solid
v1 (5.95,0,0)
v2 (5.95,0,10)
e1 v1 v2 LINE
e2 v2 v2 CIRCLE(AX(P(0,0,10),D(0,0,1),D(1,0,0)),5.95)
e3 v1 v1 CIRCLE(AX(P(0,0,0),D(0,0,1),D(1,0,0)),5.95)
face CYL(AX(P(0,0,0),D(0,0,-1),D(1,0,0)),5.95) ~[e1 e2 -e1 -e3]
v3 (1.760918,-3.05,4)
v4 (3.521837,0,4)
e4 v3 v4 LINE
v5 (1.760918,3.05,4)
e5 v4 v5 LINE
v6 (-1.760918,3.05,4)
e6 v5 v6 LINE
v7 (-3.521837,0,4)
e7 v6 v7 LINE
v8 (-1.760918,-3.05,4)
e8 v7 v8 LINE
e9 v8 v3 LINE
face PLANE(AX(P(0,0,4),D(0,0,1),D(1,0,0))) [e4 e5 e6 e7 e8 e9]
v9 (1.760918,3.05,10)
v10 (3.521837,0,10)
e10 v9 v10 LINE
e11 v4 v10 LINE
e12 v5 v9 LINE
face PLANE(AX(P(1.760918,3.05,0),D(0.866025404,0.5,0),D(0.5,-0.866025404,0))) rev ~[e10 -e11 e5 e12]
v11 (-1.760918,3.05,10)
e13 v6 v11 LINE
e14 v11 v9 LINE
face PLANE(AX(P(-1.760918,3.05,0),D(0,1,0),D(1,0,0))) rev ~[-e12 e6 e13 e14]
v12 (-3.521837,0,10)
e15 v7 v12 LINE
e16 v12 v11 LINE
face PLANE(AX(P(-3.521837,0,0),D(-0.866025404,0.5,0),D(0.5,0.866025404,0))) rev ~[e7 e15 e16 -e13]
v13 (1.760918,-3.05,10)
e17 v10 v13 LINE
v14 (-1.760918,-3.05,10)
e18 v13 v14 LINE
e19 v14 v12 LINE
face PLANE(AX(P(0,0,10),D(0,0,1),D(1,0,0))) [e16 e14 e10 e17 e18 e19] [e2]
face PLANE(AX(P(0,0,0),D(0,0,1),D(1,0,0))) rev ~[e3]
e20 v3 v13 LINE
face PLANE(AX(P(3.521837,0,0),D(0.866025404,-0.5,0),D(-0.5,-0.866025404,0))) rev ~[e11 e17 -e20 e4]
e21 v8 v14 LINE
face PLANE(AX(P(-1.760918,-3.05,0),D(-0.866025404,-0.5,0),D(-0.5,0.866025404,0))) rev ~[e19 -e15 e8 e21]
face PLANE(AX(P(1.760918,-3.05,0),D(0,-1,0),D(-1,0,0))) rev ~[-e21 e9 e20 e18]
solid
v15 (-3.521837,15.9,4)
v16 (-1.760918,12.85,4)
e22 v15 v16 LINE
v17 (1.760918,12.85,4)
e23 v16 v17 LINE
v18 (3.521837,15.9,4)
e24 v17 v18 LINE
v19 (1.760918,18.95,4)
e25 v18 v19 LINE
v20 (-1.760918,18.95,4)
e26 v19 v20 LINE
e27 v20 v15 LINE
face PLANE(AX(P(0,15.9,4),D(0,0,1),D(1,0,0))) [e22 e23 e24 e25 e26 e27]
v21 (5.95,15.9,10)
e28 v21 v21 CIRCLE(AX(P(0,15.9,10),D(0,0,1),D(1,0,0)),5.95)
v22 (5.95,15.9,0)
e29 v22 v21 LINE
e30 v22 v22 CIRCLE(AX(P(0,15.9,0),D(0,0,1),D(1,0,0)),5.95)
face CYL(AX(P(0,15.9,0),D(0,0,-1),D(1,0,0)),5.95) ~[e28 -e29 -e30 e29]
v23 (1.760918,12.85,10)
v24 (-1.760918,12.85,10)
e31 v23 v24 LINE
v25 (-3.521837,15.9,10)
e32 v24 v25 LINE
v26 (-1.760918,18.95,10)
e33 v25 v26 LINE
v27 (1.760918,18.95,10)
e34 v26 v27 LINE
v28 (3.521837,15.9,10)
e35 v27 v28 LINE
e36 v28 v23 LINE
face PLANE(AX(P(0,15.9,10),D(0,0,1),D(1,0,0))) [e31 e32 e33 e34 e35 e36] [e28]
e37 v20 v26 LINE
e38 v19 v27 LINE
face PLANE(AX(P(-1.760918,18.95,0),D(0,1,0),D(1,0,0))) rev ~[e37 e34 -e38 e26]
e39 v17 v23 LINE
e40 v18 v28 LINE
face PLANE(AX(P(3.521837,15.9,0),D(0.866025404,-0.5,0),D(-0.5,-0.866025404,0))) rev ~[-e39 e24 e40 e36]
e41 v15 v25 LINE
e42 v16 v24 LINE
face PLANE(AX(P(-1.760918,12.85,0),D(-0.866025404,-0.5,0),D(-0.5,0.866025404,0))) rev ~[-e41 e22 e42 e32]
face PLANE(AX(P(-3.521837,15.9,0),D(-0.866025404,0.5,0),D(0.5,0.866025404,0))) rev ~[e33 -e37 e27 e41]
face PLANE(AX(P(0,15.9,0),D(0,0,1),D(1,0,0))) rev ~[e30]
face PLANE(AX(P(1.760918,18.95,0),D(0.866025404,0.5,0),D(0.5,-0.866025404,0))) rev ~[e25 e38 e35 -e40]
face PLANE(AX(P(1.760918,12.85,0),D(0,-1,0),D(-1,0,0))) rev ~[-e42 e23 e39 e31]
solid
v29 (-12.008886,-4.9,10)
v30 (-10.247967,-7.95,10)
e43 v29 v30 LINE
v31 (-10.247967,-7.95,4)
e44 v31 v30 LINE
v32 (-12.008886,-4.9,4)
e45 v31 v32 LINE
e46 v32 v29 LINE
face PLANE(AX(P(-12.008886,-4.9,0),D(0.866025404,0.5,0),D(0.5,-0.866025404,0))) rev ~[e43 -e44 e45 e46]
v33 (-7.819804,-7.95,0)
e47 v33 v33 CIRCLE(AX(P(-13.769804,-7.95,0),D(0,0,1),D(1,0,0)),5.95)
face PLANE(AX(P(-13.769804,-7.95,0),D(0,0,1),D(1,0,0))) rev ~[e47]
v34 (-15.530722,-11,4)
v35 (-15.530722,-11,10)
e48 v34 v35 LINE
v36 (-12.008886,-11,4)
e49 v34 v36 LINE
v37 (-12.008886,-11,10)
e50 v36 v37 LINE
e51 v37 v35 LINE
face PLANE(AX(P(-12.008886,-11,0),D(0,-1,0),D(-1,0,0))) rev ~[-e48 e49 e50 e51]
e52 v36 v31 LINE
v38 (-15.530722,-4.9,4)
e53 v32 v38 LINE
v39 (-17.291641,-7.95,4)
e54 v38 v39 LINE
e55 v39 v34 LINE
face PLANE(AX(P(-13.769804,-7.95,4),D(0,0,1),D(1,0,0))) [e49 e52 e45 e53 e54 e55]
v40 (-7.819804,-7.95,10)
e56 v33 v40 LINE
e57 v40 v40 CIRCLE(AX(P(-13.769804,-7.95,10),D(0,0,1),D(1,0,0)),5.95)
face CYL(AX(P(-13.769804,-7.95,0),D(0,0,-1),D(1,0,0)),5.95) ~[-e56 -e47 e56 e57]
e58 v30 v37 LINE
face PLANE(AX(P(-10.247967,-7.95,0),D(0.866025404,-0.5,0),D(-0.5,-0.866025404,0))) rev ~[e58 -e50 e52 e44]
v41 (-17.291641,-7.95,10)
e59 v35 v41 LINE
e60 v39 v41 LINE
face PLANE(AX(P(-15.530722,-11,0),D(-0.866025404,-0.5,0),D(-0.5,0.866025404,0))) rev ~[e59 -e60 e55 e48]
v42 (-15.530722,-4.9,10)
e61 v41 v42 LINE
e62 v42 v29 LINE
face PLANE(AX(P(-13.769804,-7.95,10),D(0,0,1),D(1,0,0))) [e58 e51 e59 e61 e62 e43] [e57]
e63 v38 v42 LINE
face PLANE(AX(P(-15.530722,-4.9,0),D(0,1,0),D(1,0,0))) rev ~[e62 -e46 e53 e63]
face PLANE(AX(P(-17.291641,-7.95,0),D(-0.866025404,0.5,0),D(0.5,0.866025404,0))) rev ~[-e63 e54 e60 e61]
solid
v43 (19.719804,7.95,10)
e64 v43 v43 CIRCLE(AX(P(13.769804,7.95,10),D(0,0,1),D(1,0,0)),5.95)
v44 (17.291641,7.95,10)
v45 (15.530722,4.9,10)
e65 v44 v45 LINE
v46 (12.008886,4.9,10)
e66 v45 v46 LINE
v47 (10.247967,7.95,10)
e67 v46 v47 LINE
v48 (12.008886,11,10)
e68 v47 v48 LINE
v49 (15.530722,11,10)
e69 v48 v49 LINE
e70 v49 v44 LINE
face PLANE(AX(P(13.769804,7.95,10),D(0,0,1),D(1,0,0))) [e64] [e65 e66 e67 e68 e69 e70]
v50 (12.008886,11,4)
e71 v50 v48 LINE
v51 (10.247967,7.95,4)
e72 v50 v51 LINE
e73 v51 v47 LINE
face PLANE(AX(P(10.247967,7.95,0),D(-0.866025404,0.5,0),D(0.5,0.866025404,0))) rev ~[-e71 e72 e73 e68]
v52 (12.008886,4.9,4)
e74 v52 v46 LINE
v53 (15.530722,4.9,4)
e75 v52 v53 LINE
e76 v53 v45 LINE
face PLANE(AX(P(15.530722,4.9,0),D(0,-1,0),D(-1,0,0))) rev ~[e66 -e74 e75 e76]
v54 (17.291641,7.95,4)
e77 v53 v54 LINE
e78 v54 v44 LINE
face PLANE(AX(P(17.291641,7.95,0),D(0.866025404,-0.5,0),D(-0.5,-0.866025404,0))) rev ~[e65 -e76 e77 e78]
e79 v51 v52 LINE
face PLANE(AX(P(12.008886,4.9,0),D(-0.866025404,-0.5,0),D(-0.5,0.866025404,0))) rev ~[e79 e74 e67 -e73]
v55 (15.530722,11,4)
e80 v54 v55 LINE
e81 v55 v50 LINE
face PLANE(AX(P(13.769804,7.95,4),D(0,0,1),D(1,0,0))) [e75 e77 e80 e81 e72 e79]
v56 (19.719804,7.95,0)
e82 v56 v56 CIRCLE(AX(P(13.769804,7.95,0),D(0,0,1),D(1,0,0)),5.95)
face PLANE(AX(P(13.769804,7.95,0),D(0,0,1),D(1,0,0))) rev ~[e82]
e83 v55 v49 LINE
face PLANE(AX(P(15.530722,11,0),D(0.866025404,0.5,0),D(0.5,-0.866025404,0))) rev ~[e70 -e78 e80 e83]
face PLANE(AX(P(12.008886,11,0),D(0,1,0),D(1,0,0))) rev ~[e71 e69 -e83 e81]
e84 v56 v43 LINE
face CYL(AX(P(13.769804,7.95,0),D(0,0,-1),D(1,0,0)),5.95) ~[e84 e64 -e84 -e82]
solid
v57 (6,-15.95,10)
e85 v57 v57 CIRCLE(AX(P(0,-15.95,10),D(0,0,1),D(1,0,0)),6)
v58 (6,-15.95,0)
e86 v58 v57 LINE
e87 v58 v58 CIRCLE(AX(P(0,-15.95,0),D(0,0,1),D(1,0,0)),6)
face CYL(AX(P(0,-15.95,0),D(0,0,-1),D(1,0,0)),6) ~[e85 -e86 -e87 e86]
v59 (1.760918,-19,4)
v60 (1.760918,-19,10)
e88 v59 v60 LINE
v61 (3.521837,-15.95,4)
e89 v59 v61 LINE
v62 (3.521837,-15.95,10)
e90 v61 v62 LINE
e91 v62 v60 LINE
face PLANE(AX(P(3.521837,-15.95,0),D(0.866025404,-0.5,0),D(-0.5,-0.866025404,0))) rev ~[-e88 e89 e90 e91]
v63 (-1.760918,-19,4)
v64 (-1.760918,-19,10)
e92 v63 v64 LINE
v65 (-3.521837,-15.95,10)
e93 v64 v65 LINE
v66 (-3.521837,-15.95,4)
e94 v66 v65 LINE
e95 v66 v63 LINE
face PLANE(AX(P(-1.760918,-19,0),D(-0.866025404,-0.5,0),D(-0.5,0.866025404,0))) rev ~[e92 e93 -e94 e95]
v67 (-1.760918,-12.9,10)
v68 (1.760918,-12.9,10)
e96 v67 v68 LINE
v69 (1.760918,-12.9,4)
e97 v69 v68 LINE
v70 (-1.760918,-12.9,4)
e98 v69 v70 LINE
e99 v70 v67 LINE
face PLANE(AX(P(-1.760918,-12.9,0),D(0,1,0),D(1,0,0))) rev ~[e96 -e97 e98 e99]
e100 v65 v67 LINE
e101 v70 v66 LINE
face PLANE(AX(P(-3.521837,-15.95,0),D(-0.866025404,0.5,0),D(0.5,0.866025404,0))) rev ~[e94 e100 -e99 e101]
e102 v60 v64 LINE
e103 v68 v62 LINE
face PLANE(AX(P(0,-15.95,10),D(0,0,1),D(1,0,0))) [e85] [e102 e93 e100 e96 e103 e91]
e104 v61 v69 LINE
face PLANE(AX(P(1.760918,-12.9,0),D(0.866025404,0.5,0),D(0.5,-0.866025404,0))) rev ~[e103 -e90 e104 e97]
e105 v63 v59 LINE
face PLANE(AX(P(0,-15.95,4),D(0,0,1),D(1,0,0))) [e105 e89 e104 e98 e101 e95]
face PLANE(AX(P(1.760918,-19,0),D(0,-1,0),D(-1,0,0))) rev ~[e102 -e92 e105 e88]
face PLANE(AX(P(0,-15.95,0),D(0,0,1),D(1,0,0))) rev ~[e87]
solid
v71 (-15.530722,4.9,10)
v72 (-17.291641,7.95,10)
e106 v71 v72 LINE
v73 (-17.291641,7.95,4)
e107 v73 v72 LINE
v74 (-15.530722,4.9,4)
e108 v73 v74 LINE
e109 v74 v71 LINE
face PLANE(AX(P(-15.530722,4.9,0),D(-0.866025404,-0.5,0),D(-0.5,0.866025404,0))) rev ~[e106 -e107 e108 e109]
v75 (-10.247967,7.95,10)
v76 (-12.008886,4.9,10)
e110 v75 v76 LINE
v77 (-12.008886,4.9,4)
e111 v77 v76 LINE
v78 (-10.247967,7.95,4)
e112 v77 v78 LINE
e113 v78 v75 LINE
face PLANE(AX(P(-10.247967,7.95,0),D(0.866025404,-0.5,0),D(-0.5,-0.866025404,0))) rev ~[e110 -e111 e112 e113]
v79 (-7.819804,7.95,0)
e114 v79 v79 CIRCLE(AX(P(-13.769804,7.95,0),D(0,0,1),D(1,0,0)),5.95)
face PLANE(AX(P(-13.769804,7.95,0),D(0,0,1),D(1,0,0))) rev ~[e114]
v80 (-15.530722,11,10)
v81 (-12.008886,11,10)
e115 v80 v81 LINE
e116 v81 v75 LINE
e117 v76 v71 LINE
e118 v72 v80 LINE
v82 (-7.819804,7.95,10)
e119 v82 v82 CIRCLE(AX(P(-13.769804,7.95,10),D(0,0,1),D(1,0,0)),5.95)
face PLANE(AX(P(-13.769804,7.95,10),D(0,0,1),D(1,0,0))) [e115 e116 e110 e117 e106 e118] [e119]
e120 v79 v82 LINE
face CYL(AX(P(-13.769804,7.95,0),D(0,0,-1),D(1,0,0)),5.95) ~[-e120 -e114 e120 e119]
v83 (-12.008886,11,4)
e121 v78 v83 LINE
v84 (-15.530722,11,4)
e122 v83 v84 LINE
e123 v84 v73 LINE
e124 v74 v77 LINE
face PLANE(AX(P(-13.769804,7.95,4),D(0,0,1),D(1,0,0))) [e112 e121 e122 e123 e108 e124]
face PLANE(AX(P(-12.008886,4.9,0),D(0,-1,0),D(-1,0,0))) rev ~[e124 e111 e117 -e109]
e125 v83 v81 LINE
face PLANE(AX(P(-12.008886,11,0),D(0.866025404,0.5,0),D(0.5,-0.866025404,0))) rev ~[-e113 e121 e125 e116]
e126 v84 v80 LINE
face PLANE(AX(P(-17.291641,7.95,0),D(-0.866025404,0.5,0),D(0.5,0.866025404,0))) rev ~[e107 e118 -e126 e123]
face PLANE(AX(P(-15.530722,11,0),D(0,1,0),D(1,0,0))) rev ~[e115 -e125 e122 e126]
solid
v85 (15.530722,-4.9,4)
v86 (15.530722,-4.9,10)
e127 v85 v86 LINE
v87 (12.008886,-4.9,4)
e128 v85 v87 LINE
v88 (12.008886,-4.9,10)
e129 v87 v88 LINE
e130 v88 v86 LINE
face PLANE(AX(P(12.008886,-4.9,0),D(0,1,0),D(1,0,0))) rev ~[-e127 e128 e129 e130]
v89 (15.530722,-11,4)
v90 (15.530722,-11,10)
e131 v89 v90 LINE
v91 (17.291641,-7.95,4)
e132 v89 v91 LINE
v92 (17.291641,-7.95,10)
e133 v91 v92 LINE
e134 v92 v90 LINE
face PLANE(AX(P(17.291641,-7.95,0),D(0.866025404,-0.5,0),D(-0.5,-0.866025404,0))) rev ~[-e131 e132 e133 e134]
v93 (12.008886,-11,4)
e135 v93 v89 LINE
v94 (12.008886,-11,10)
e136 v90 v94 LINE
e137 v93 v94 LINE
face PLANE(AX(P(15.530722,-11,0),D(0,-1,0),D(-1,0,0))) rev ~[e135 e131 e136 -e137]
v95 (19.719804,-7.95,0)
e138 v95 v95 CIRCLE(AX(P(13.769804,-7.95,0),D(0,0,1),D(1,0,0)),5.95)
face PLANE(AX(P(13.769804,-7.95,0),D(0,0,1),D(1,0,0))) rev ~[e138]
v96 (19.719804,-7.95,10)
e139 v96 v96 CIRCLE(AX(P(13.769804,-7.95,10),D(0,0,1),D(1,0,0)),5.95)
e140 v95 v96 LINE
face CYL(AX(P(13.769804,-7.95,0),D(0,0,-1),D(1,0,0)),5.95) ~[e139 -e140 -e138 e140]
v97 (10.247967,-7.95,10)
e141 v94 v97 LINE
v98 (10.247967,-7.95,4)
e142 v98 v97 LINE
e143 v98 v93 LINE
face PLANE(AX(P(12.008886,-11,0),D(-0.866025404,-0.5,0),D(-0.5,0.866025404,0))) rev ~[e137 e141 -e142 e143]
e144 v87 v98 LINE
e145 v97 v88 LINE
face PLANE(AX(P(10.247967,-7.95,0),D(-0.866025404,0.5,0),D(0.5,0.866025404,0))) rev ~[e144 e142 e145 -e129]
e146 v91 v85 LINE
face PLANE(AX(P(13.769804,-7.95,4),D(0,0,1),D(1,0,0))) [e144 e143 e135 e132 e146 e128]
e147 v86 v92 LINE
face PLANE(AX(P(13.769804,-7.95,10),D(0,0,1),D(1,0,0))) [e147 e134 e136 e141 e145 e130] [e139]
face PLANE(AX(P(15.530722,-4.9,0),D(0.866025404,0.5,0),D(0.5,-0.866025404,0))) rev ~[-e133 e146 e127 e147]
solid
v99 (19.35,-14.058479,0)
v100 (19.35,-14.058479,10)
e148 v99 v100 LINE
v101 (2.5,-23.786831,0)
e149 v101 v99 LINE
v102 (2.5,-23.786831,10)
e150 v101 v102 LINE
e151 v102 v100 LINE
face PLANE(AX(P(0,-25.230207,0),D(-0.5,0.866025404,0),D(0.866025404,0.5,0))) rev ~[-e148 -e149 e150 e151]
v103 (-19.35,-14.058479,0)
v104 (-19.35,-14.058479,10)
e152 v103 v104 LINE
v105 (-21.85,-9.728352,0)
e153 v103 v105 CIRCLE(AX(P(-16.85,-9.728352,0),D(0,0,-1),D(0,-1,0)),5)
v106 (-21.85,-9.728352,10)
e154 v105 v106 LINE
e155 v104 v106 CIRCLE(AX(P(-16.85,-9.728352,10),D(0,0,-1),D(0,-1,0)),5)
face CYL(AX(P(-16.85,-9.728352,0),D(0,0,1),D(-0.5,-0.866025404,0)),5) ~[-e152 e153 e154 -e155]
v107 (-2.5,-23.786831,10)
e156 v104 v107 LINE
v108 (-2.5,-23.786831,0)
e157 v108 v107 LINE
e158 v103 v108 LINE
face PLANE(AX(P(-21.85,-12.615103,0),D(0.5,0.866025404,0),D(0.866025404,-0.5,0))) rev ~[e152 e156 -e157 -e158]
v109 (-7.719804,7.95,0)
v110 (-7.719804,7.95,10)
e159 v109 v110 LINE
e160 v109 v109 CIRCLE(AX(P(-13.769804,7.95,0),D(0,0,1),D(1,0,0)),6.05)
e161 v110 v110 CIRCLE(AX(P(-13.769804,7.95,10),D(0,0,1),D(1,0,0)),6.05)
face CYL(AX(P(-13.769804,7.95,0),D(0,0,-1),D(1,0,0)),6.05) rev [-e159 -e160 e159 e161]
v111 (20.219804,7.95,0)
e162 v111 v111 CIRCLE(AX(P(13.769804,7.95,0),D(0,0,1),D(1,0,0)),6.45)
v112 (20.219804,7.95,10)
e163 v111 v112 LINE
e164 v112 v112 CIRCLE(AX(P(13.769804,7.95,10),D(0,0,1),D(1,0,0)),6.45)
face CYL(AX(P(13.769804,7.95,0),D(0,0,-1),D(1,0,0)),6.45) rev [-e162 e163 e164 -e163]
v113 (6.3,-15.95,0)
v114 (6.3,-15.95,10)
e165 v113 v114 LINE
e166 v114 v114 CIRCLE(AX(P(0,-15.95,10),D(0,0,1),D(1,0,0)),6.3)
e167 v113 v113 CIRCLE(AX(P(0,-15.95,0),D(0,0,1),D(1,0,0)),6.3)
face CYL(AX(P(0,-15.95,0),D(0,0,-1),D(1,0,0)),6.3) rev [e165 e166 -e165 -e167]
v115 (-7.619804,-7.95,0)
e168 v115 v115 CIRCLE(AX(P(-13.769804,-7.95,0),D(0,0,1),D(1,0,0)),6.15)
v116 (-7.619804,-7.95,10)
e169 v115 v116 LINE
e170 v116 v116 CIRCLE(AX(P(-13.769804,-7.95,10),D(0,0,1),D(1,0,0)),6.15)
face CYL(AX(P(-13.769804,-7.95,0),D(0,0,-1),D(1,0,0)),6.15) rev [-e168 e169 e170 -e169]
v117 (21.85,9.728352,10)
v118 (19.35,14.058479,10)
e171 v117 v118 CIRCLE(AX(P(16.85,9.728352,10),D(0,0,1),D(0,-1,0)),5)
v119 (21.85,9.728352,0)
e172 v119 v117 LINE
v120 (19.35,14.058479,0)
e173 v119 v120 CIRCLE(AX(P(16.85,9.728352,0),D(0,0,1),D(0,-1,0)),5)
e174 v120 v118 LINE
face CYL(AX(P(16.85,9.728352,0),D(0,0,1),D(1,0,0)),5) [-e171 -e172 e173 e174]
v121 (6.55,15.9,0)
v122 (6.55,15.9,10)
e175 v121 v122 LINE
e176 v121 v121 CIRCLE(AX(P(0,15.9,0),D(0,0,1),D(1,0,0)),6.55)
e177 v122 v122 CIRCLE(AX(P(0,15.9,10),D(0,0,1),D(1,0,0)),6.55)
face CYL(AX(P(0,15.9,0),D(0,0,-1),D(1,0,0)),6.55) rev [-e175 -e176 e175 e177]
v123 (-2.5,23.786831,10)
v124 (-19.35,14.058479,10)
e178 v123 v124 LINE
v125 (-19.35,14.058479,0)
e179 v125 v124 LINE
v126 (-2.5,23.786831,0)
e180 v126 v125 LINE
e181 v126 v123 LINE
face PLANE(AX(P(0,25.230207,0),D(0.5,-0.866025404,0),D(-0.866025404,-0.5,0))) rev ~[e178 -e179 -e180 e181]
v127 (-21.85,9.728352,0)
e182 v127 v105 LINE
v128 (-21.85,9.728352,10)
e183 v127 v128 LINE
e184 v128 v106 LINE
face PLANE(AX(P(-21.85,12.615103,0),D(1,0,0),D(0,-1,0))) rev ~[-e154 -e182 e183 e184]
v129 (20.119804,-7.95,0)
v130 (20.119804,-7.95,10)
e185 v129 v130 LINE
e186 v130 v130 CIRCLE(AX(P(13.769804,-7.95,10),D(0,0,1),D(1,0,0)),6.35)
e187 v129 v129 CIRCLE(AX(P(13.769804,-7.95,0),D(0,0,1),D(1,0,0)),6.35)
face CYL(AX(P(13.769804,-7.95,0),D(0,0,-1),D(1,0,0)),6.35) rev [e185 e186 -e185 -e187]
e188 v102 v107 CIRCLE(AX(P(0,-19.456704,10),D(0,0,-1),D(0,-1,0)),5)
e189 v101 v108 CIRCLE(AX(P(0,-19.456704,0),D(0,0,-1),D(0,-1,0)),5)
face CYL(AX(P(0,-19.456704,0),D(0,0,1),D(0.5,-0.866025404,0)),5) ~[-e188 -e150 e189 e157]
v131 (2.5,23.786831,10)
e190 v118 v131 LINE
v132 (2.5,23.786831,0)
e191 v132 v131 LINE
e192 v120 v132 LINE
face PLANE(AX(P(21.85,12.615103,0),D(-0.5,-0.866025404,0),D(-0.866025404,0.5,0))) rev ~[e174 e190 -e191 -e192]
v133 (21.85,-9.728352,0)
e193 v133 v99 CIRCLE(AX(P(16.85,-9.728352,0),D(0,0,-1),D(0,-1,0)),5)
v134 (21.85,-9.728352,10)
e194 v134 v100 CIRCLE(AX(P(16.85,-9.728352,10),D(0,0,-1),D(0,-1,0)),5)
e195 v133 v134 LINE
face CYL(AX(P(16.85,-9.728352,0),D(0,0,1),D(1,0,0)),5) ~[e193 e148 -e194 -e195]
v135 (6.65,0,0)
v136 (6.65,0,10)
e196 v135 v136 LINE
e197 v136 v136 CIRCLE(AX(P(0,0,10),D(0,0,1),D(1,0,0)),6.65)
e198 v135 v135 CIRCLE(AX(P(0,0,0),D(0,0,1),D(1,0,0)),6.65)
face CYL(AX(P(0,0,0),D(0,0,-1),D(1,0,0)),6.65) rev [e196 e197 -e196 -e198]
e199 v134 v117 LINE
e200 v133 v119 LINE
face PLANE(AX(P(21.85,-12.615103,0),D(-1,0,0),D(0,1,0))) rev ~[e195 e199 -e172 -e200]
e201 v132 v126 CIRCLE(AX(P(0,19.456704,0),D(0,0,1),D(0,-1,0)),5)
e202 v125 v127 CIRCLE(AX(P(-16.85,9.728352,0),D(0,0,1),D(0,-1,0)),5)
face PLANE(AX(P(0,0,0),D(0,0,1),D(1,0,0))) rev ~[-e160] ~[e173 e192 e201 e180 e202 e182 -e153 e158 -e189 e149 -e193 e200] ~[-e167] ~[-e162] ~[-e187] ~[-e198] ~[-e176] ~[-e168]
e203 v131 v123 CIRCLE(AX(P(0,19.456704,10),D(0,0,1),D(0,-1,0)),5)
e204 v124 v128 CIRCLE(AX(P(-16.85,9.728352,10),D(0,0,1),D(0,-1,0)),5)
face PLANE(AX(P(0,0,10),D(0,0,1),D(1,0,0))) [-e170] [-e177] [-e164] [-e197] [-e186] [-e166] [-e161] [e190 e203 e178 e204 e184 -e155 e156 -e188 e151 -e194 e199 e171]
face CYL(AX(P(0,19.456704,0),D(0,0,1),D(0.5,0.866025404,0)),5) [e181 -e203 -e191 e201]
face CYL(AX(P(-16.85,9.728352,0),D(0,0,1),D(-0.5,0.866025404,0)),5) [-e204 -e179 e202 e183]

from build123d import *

# Parameters (mm, degrees)
F2_R      = 6.15
F2_R_2    = 6.3
F2_R_3    = 6.35
F2_R_4    = 6.05
F2_R_5    = 6.65
F2_R_6    = 6.45
F2_R_7    = 6.55
F3_DEPTH  = 10
F4_R      = 5
F2_R_8    = 5.95
F5_DEPTH  = 10
F6_DEPTH  = 4
F7_DEPTH  = 10
F8_DEPTH  = 4
F2_R_9    = 6
F9_DEPTH  = 10
F10_DEPTH = 4
F11_DEPTH = 10
F12_DEPTH = 4
F13_DEPTH = 10
F14_DEPTH = 4
F15_DEPTH = 10
F16_DEPTH = 4
F17_DEPTH = 10
F18_DEPTH = 4


with BuildPart() as f3:
    # F2 (on Top) → F3 (new body)
    with BuildSketch(Plane.XY):
        Polygon((21.85, -12.6151033818), (21.85, 12.6151033818), (0, 25.2302067636), (-21.85, 12.6151033818), (-21.85, -12.6151033818), (0, -25.2302067636), align=None)
        with Locations((-13.7698039202, -7.95)):
            Circle(F2_R, mode=Mode.SUBTRACT)
        with Locations((0, -15.95)):
            Circle(F2_R_2, mode=Mode.SUBTRACT)
        with Locations((13.7698039202, -7.95)):
            Circle(F2_R_3, mode=Mode.SUBTRACT)
        with Locations((-13.7698039202, 7.95)):
            Circle(F2_R_4, mode=Mode.SUBTRACT)
        Circle(F2_R_5, mode=Mode.SUBTRACT)
        with Locations((13.7698039202, 7.95)):
            Circle(F2_R_6, mode=Mode.SUBTRACT)
        with Locations((0, 15.9)):
            Circle(F2_R_7, mode=Mode.SUBTRACT)
    extrude(amount=F3_DEPTH)

    # F4
    f4_edges = [f3.edges().sort_by_distance(p)[0] for p in [
        (-21.85, 12.615103, 5),
        (-21.85, -12.615103, 5),
        (0, -25.230207, 5),
        (0, 25.230207, 5),
        (21.85, -12.615103, 5),
        (21.85, 12.615103, 5),
    ]]
    fillet(f4_edges, radius=F4_R)


with BuildPart() as f5:
    # F2 (on Top) → F5 (new body)
    with BuildSketch(Plane.XY):
        with Locations((-13.7698039202, 7.95)):
            Circle(F2_R_8)
        Polygon((-15.5307222412, 11), (-12.0088855991, 11), (-10.2479672781, 7.95), (-12.0088855991, 4.9), (-15.5307222412, 4.9), (-17.2916405622, 7.95), align=None, mode=Mode.SUBTRACT)
    extrude(amount=F5_DEPTH)

    # F2 (on Top) → F6 (join)
    with BuildSketch(Plane.XY):
        Polygon((-10.2479672781, 7.95), (-12.0088855991, 11), (-15.5307222412, 11), (-17.2916405622, 7.95), (-15.5307222412, 4.9), (-12.0088855991, 4.9), align=None)
    extrude(amount=F6_DEPTH)


with BuildPart() as f7:
    # F2 (on Top) → F7 (new body)
    with BuildSketch(Plane.XY):
        with Locations((-13.7698039202, -7.95)):
            Circle(F2_R_8)
        Polygon((-15.5307222412, -4.9), (-12.0088855991, -4.9), (-10.2479672781, -7.95), (-12.0088855991, -11), (-15.5307222412, -11), (-17.2916405622, -7.95), align=None, mode=Mode.SUBTRACT)
    extrude(amount=F7_DEPTH)

    # F2 (on Top) → F8 (join)
    with BuildSketch(Plane.XY):
        Polygon((-10.2479672781, -7.95), (-12.0088855991, -4.9), (-15.5307222412, -4.9), (-17.2916405622, -7.95), (-15.5307222412, -11), (-12.0088855991, -11), align=None)
    extrude(amount=F8_DEPTH)


with BuildPart() as f9:
    # F2 (on Top) → F9 (new body)
    with BuildSketch(Plane.XY):
        with Locations((0, -15.95)):
            Circle(F2_R_9)
        Polygon((-1.760918321, -12.9), (1.760918321, -12.9), (3.5218366421, -15.95), (1.760918321, -19), (-1.760918321, -19), (-3.5218366421, -15.95), align=None, mode=Mode.SUBTRACT)
    extrude(amount=F9_DEPTH)

    # F2 (on Top) → F10 (join)
    with BuildSketch(Plane.XY):
        Polygon((3.5218366421, -15.95), (1.760918321, -12.9), (-1.760918321, -12.9), (-3.5218366421, -15.95), (-1.760918321, -19), (1.760918321, -19), align=None)
    extrude(amount=F10_DEPTH)


with BuildPart() as f11:
    # F2 (on Top) → F11 (new body)
    with BuildSketch(Plane.XY):
        with Locations((13.7698039202, -7.95)):
            Circle(F2_R_8)
        Polygon((12.0088855991, -4.9), (15.5307222412, -4.9), (17.2916405622, -7.95), (15.5307222412, -11), (12.0088855991, -11), (10.2479672781, -7.95), align=None, mode=Mode.SUBTRACT)
    extrude(amount=F11_DEPTH)

    # F2 (on Top) → F12 (join)
    with BuildSketch(Plane.XY):
        Polygon((17.2916405622, -7.95), (15.5307222412, -4.9), (12.0088855991, -4.9), (10.2479672781, -7.95), (12.0088855991, -11), (15.5307222412, -11), align=None)
    extrude(amount=F12_DEPTH)


with BuildPart() as f13:
    # F2 (on Top) → F13 (new body)
    with BuildSketch(Plane.XY):
        with Locations((13.7698039202, 7.95)):
            Circle(F2_R_8)
        Polygon((12.0088855991, 11), (15.5307222412, 11), (17.2916405622, 7.95), (15.5307222412, 4.9), (12.0088855991, 4.9), (10.2479672781, 7.95), align=None, mode=Mode.SUBTRACT)
    extrude(amount=F13_DEPTH)

    # F2 (on Top) → F14 (join)
    with BuildSketch(Plane.XY):
        Polygon((17.2916405622, 7.95), (15.5307222412, 11), (12.0088855991, 11), (10.2479672781, 7.95), (12.0088855991, 4.9), (15.5307222412, 4.9), align=None)
    extrude(amount=F14_DEPTH)


with BuildPart() as f15:
    # F2 (on Top) → F15 (new body)
    with BuildSketch(Plane.XY):
        with Locations((0, 15.9)):
            Circle(F2_R_8)
        Polygon((-1.760918321, 18.95), (1.760918321, 18.95), (3.5218366421, 15.9), (1.760918321, 12.85), (-1.760918321, 12.85), (-3.5218366421, 15.9), align=None, mode=Mode.SUBTRACT)
    extrude(amount=F15_DEPTH)

    # F2 (on Top) → F16 (join)
    with BuildSketch(Plane.XY):
        Polygon((3.5218366421, 15.9), (1.760918321, 18.95), (-1.760918321, 18.95), (-3.5218366421, 15.9), (-1.760918321, 12.85), (1.760918321, 12.85), align=None)
    extrude(amount=F16_DEPTH)


with BuildPart() as f17:
    # F2 (on Top) → F17 (new body)
    with BuildSketch(Plane.XY):
        Circle(F2_R_8)
        Polygon((-1.760918321, 3.05), (1.760918321, 3.05), (3.5218366421, 0), (1.760918321, -3.05), (-1.760918321, -3.05), (-3.5218366421, 0), align=None, mode=Mode.SUBTRACT)
    extrude(amount=F17_DEPTH)

    # F2 (on Top) → F18 (join)
    with BuildSketch(Plane.XY):
        Polygon((3.5218366421, 0), (1.760918321, 3.05), (-1.760918321, 3.05), (-3.5218366421, 0), (-1.760918321, -3.05), (1.760918321, -3.05), align=None)
    extrude(amount=F18_DEPTH)


solid = Compound([f3.part, f5.part, f7.part, f9.part, f11.part, f13.part, f15.part, f17.part])
